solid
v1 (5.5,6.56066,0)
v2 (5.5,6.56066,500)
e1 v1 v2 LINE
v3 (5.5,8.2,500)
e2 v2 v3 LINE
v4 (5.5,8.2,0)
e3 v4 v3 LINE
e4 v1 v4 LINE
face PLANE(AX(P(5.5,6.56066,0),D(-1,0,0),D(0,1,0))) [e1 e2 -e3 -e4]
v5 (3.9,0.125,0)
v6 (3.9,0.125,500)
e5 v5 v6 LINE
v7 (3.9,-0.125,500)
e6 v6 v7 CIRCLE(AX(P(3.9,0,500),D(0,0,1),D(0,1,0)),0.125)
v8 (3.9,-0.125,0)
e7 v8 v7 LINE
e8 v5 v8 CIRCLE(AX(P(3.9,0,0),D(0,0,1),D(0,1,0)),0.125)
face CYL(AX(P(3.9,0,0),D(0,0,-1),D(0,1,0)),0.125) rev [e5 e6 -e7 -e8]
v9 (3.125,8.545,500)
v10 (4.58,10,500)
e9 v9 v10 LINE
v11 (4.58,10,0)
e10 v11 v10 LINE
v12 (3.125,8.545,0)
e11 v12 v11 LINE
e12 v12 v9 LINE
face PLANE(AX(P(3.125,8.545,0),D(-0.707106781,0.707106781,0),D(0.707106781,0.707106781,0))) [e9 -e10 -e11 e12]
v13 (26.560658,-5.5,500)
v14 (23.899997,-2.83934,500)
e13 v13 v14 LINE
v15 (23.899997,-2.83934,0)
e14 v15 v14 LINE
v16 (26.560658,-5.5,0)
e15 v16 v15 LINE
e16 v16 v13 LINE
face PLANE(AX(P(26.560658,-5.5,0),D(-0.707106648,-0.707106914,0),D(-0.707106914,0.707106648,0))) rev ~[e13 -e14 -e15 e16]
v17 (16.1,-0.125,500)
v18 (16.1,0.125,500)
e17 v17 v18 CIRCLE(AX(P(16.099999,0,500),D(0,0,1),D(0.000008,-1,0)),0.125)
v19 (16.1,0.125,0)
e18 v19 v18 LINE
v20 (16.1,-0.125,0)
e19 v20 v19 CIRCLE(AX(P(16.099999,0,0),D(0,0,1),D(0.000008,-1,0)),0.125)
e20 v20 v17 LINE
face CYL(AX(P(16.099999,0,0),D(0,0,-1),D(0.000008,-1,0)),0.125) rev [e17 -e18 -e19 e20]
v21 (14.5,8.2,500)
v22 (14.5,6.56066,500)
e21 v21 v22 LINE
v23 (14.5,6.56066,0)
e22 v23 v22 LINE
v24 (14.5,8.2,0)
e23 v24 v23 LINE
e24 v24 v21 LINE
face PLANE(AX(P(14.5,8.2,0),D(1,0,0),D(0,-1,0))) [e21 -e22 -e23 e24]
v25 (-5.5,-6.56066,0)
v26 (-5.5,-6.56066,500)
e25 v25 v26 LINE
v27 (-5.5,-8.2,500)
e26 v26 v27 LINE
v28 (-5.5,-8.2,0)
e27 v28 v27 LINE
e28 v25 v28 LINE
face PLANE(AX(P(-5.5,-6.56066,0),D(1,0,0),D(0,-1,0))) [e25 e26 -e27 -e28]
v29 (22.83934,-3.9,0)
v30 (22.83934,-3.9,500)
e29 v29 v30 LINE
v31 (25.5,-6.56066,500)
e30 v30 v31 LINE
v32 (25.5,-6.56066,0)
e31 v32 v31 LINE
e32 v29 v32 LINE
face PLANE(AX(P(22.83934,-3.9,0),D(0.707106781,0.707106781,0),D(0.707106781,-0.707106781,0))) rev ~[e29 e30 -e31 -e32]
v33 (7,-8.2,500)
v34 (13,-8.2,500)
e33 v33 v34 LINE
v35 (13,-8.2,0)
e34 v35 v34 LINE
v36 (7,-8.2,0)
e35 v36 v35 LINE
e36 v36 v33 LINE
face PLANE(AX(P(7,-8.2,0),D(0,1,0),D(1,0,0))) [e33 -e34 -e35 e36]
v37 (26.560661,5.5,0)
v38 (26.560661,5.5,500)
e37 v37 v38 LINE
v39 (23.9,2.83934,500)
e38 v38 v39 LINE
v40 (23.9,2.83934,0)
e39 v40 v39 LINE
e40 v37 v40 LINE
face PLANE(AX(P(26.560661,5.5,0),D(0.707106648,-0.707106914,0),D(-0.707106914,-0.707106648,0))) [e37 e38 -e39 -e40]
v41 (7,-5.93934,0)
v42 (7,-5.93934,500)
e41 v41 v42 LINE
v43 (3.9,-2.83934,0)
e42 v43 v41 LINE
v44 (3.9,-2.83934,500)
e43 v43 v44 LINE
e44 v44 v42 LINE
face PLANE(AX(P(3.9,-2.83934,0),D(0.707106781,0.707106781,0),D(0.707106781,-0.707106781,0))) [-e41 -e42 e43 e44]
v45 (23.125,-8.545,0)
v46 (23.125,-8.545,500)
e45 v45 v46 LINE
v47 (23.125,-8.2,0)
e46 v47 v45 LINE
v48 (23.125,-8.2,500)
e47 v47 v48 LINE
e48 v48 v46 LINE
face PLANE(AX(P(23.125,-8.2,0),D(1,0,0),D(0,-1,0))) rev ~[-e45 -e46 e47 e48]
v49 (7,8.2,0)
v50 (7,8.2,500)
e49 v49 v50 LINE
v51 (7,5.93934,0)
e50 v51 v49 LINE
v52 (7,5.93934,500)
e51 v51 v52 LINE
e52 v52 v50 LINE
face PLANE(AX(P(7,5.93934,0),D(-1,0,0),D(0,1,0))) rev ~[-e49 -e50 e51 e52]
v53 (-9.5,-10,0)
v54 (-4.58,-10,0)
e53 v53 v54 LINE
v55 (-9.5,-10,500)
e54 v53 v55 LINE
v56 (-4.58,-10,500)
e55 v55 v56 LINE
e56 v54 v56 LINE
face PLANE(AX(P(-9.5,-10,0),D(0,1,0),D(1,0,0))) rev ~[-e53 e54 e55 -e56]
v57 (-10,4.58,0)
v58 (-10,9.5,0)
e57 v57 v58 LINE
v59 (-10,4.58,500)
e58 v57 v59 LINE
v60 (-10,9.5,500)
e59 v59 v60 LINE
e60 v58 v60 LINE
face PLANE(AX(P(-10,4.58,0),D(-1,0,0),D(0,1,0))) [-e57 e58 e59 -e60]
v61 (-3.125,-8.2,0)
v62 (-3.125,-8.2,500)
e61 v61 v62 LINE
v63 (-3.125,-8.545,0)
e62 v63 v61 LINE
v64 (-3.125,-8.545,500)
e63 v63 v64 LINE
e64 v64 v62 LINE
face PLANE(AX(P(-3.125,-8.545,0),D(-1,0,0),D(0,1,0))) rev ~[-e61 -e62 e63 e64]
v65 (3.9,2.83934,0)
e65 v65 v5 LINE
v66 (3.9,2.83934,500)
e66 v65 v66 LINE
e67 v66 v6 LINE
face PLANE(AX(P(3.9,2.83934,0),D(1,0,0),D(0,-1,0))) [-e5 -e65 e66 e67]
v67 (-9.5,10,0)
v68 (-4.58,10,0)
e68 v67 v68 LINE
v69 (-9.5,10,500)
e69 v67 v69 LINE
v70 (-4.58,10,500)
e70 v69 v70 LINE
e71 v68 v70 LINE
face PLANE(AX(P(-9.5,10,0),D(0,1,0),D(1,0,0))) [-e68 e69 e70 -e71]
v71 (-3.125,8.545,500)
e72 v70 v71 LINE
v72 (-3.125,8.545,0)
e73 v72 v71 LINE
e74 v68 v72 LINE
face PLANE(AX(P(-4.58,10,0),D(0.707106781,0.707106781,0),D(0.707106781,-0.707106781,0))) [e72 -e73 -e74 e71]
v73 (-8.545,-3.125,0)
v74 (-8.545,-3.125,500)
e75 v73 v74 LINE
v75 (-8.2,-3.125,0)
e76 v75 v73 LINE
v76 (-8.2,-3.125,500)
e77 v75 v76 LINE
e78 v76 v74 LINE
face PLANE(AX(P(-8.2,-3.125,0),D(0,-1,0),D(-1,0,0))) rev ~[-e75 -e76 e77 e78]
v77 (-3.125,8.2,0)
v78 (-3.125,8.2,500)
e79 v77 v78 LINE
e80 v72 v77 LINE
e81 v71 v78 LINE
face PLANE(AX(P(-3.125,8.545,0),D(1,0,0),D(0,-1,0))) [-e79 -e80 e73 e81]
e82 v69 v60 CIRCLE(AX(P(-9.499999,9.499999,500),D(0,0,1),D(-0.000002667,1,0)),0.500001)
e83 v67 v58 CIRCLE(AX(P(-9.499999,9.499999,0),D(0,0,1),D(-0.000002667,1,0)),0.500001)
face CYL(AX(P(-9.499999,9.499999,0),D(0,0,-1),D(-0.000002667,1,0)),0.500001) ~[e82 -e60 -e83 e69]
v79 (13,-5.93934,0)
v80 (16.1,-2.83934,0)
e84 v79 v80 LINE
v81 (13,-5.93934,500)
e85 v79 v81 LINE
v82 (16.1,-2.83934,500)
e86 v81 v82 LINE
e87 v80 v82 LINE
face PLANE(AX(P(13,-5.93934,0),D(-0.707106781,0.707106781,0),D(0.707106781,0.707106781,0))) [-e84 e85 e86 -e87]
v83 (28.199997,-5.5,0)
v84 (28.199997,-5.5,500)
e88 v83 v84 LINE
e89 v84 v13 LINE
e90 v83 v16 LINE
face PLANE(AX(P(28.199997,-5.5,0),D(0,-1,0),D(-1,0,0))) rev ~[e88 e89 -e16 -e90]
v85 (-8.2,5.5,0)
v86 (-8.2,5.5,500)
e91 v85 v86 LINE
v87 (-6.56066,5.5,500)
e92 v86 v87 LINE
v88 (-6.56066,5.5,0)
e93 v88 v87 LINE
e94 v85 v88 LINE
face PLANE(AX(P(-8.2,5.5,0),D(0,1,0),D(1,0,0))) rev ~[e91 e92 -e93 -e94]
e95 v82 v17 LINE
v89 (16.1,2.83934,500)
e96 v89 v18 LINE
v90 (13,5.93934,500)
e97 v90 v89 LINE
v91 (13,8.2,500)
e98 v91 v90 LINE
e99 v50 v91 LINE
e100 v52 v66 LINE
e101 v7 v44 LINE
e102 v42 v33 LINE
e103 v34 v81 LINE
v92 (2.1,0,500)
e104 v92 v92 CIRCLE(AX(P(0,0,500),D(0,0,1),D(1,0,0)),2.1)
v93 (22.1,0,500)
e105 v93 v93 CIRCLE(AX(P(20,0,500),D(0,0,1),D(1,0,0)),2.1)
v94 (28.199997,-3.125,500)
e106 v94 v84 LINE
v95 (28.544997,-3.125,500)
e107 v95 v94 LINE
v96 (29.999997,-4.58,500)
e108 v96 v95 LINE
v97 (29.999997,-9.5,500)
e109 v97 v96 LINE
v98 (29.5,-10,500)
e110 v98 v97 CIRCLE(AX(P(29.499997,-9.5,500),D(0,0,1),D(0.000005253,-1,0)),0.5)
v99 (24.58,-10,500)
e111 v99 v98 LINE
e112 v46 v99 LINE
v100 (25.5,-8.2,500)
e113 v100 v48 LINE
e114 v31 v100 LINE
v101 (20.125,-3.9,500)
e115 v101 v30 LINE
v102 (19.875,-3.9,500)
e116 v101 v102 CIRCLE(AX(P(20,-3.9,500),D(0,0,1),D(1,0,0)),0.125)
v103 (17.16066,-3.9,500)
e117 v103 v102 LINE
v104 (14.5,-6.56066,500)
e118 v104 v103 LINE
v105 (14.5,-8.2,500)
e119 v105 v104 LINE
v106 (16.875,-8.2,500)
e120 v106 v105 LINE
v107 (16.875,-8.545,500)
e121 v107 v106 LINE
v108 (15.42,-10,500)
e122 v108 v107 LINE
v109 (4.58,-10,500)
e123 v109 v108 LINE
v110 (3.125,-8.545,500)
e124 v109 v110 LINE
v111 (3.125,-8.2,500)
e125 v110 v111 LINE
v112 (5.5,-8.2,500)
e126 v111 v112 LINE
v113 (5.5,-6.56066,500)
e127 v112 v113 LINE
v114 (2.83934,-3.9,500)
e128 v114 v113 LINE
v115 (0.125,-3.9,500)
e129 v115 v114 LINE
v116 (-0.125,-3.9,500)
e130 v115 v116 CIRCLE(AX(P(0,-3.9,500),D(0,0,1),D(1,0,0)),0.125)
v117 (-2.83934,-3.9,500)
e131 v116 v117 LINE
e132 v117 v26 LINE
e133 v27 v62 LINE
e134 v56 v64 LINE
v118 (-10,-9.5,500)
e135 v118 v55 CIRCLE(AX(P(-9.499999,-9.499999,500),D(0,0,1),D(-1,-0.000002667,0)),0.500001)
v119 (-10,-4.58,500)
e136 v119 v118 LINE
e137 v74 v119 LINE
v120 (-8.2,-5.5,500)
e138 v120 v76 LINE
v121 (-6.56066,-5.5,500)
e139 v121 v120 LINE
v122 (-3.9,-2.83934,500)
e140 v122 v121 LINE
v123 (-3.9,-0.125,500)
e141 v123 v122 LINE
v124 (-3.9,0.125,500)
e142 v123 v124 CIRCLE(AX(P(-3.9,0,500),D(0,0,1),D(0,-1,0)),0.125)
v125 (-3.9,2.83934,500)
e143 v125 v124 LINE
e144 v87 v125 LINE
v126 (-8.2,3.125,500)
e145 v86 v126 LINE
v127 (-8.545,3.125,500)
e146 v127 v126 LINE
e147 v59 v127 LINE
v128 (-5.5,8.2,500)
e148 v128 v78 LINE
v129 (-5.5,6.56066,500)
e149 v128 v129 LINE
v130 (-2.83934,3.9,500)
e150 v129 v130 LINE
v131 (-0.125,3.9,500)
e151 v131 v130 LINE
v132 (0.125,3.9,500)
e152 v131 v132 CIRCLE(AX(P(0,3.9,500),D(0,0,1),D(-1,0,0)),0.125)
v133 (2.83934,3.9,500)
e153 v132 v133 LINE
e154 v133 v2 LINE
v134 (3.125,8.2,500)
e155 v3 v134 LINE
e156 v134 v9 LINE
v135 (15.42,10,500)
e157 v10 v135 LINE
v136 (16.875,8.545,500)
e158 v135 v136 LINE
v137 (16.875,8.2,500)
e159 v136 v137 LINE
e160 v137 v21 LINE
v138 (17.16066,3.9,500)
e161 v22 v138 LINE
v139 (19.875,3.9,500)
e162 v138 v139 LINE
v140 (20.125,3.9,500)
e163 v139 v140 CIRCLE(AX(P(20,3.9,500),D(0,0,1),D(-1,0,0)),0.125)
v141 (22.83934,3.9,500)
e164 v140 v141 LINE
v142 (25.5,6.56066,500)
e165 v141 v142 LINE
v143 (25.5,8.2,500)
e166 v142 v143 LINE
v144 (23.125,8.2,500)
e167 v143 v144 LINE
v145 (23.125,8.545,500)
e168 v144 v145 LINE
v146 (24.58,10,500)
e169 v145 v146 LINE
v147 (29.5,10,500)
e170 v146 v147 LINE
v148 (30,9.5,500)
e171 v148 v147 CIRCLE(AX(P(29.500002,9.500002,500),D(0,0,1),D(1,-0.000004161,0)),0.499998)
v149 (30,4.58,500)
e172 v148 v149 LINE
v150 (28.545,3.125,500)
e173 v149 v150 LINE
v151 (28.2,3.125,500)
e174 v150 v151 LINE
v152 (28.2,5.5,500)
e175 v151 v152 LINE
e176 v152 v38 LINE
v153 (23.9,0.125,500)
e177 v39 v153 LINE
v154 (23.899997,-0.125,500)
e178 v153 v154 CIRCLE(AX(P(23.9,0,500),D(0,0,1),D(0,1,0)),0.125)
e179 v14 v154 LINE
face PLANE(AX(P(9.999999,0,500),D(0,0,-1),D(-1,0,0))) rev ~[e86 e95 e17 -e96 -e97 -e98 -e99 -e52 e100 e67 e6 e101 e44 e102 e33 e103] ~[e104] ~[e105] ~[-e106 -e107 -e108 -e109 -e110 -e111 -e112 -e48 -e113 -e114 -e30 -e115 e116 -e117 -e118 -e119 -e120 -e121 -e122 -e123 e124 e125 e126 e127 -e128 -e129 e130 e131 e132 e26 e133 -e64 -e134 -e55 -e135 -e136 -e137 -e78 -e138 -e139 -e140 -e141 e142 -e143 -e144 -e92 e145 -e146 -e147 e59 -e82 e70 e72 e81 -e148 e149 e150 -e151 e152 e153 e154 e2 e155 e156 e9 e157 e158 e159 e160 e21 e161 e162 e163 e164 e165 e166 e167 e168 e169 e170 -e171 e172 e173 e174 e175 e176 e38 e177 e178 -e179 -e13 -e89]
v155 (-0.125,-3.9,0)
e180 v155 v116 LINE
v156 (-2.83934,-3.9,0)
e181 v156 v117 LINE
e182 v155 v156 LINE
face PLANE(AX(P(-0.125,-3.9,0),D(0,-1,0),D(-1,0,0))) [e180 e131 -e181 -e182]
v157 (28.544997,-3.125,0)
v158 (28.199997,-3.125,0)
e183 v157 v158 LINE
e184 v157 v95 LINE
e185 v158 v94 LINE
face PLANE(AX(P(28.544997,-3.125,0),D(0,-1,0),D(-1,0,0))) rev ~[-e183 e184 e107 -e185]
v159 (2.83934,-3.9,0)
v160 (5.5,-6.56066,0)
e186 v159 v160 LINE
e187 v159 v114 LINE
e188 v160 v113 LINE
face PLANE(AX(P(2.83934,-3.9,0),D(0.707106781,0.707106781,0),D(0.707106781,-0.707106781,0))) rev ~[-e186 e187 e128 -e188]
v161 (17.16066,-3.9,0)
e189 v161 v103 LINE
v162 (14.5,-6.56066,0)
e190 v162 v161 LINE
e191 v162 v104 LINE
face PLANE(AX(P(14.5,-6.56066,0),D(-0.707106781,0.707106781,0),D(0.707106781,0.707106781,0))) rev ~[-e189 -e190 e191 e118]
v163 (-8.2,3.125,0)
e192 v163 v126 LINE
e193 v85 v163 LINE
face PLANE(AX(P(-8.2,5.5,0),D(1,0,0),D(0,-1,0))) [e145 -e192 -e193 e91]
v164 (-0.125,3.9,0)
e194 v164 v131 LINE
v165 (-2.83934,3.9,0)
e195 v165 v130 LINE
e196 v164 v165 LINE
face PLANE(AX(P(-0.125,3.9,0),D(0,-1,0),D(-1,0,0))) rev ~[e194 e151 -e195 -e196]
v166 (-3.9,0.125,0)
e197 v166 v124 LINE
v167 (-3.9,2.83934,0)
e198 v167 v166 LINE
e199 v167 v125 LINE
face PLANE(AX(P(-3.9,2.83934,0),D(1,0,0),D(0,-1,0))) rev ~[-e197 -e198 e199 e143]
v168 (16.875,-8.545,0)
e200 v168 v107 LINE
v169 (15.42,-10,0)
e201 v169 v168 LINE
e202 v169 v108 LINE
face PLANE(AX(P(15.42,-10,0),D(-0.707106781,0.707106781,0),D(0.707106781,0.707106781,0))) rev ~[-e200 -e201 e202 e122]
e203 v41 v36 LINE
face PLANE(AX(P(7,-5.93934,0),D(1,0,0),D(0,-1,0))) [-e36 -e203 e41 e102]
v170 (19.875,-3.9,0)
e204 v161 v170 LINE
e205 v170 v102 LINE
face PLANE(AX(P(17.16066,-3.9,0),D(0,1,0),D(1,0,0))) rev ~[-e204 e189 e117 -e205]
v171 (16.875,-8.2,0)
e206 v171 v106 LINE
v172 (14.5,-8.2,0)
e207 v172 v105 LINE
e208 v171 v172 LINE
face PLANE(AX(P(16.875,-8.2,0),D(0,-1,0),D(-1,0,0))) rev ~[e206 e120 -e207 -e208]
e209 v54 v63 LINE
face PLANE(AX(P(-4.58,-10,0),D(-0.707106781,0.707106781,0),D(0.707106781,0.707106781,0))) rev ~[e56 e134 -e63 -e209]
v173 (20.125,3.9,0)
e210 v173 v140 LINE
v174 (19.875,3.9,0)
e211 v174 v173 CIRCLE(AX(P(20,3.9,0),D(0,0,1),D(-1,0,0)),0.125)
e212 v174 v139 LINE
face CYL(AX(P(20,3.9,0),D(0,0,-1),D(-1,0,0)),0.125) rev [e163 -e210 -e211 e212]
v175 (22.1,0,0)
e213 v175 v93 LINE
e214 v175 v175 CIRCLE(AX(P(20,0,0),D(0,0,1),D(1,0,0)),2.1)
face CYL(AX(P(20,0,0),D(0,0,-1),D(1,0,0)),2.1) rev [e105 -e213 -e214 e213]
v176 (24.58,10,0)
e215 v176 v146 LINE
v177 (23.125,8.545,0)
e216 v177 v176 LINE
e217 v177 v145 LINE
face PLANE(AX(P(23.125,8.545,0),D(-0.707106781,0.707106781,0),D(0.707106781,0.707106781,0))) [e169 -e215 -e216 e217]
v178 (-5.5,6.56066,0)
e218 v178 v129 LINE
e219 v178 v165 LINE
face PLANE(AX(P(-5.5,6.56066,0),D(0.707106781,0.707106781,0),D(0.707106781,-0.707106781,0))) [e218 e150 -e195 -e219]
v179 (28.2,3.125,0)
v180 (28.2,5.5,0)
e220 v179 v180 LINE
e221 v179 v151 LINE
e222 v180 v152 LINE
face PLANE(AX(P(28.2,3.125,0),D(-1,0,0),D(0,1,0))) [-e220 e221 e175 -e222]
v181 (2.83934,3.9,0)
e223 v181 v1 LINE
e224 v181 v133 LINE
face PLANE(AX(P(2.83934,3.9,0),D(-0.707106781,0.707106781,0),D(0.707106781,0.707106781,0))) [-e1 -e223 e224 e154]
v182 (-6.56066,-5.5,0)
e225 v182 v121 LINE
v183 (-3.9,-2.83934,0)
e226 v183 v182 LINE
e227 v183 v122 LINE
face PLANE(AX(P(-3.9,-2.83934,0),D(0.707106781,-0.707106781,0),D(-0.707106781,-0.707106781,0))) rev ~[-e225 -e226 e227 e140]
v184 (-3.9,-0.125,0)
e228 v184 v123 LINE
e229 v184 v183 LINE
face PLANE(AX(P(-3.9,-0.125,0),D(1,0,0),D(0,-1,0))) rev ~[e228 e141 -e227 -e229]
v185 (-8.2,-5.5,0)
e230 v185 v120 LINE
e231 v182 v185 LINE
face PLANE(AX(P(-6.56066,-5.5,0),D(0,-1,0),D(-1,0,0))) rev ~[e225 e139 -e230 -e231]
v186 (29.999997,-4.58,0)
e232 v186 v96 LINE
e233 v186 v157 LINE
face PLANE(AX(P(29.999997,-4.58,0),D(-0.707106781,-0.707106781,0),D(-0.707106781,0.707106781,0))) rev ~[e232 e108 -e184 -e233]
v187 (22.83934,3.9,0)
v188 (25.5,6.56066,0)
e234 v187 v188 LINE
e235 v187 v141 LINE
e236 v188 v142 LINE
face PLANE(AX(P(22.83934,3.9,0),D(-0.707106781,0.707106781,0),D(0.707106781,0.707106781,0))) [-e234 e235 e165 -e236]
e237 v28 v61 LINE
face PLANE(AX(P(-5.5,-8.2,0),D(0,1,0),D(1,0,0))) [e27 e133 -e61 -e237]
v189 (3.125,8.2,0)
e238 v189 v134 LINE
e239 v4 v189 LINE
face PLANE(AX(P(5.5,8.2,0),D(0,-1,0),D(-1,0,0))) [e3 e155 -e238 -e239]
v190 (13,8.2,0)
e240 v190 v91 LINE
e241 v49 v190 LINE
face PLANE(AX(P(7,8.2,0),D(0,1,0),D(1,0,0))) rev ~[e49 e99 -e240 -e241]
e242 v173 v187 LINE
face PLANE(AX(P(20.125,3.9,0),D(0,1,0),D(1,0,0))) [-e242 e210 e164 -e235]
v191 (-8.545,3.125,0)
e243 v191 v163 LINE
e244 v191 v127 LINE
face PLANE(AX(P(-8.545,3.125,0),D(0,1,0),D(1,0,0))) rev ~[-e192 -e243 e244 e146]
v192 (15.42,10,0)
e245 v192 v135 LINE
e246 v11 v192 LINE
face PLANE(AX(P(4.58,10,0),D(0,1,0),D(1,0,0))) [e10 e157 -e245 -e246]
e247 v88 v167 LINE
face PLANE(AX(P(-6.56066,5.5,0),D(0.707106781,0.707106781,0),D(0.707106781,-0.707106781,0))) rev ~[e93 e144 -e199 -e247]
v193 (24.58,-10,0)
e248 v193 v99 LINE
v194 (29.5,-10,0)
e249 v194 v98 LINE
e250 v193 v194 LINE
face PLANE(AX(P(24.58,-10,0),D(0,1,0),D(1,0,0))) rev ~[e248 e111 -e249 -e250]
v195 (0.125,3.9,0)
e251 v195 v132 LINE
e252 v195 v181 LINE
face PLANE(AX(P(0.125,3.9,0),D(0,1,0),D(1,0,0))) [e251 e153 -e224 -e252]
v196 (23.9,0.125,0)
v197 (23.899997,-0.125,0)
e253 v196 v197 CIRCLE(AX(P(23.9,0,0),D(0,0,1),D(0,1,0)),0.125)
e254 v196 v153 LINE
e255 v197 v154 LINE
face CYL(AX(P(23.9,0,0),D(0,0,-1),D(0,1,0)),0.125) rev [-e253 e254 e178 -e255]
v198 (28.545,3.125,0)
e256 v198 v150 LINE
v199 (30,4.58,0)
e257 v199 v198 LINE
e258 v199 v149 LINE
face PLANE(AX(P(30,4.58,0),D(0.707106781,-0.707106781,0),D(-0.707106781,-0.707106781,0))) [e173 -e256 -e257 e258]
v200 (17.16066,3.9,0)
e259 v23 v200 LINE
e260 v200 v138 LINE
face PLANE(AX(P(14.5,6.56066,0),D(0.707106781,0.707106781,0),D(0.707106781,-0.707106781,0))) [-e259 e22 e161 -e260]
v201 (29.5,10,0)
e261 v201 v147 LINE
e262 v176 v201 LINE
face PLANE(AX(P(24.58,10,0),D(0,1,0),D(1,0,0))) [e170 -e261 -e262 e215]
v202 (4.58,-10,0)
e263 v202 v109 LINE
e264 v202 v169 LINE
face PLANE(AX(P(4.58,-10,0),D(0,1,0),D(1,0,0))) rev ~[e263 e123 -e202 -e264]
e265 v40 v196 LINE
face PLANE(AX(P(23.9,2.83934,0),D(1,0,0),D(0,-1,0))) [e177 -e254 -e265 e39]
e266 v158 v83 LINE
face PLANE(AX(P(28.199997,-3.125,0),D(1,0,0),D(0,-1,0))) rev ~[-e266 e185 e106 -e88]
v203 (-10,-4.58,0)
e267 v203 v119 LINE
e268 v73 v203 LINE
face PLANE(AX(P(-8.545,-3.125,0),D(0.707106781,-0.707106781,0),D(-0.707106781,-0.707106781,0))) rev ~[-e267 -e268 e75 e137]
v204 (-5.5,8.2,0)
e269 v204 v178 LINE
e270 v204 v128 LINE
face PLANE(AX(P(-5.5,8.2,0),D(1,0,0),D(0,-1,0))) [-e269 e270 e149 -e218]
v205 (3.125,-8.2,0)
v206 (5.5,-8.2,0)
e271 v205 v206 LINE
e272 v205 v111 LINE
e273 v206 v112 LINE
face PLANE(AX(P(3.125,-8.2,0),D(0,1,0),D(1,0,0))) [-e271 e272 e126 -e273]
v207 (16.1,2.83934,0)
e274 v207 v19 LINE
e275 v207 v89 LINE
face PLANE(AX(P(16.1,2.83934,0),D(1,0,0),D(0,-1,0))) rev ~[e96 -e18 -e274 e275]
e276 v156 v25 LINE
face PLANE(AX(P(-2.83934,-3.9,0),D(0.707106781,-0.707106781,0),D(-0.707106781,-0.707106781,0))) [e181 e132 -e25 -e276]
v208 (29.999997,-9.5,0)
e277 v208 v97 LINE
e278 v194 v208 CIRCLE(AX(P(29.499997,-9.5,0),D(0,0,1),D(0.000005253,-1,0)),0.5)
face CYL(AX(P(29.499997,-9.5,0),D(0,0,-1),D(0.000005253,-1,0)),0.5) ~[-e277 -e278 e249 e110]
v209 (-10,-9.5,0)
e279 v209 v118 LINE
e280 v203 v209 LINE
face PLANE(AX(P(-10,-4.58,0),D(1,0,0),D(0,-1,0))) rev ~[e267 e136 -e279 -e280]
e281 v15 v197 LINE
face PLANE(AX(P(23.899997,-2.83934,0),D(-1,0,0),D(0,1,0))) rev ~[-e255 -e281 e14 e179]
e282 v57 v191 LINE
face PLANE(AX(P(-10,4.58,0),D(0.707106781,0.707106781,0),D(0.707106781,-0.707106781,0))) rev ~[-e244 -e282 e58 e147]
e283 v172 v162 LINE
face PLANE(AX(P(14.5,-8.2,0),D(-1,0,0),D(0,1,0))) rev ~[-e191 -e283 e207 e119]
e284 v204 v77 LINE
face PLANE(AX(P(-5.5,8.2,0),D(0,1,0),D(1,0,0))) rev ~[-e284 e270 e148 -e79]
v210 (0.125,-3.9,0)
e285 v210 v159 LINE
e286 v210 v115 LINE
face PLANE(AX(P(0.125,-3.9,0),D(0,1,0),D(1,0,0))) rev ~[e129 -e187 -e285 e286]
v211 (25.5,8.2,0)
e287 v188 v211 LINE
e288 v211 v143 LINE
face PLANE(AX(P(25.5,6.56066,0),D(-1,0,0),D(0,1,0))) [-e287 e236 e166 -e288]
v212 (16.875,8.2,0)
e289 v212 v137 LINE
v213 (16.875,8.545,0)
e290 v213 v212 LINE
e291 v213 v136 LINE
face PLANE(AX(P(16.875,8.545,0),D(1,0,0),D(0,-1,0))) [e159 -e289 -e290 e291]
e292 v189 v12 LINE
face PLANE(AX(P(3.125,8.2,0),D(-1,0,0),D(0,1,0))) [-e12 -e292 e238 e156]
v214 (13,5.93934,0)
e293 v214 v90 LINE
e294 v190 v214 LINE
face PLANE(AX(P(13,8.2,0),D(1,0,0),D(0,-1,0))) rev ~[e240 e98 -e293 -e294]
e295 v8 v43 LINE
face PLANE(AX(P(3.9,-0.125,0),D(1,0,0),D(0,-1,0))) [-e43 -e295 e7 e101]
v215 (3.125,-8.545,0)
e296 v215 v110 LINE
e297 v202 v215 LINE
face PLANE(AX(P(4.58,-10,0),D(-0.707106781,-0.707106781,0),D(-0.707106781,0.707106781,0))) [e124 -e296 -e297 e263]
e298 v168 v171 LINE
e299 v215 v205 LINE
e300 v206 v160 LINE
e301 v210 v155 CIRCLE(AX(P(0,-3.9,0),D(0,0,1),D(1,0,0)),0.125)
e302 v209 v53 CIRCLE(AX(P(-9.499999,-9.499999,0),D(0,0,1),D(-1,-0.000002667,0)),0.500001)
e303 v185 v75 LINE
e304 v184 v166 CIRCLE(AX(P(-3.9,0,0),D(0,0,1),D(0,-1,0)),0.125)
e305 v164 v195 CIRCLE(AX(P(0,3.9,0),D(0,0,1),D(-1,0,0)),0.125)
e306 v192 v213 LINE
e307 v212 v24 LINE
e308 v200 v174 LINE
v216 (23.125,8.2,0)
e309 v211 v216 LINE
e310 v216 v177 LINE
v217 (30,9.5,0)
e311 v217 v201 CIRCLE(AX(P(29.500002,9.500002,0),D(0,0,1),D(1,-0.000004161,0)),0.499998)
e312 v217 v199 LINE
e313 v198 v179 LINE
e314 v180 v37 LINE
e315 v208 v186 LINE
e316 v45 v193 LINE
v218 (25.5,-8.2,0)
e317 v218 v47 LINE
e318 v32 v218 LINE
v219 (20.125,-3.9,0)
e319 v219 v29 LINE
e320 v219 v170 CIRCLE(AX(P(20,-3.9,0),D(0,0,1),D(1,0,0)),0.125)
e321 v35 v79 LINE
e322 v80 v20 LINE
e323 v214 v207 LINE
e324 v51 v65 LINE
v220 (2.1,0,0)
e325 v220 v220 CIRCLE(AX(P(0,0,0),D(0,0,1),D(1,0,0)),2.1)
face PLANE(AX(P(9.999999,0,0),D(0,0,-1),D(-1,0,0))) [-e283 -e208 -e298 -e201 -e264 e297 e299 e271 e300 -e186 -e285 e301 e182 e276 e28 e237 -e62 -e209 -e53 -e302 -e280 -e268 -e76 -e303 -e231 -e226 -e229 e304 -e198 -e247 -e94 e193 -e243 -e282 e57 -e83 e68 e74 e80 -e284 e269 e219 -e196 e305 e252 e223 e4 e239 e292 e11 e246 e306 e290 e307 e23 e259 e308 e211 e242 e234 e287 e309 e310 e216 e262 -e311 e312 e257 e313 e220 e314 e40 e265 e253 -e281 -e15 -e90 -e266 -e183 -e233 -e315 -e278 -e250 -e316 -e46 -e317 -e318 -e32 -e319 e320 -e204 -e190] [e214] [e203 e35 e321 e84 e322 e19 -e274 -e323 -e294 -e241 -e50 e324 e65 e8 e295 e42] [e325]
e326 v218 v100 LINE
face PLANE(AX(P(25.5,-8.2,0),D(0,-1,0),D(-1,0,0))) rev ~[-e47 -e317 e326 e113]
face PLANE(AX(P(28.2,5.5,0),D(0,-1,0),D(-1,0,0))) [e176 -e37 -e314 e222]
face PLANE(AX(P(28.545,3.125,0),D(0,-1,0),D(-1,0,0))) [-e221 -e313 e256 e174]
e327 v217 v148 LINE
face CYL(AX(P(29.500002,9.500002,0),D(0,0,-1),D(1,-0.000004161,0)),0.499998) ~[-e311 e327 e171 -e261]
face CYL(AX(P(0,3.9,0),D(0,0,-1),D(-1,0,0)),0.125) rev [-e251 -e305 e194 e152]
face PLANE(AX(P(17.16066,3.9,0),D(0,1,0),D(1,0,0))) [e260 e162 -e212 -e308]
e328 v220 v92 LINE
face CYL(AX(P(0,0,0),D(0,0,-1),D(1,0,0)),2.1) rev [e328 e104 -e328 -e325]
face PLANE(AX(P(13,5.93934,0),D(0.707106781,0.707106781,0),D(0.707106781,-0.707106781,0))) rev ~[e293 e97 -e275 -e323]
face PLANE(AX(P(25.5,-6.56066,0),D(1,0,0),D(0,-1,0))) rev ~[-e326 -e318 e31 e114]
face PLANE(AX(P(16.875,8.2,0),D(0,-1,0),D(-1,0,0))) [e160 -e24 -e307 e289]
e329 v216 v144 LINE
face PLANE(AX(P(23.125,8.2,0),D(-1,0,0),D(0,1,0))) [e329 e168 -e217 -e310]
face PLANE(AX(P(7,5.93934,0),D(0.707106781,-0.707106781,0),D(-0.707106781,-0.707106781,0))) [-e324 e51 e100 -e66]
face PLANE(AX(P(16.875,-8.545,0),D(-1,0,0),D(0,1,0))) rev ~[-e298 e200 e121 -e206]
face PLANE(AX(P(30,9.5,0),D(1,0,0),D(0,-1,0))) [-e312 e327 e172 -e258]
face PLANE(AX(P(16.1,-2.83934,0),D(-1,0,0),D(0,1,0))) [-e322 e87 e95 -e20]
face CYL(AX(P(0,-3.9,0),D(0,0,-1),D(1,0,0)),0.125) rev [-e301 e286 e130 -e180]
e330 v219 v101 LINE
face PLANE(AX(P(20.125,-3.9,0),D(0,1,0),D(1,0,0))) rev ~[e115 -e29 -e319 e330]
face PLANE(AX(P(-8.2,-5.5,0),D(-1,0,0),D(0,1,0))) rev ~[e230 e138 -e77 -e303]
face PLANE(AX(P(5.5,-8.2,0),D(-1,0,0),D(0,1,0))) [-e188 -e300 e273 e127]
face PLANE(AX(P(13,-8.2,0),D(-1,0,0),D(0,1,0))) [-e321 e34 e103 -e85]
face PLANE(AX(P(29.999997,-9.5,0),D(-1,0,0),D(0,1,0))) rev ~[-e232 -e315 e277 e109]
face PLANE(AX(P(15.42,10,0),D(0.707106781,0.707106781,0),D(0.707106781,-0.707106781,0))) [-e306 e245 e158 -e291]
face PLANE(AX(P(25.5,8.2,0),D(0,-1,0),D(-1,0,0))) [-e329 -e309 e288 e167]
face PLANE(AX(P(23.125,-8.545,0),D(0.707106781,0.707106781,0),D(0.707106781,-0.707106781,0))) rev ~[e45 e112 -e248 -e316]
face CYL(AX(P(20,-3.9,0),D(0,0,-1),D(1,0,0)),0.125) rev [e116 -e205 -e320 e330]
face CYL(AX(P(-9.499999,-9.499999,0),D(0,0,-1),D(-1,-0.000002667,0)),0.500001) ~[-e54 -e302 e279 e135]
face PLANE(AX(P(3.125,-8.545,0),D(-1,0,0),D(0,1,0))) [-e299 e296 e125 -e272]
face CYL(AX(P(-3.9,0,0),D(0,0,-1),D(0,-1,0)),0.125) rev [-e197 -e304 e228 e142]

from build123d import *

# Parameters (mm, degrees)
SKETCH_R  = 2.1
PAD_DEPTH = 500


with BuildPart() as part:
    # Sketch → Pad (new body)
    with BuildSketch(Plane.XY):
        with BuildLine():
            Line((-10, 4.58), (-10, 9.5))
            ThreePointArc((-9.5, 10), (-9.853553, 9.853553), (-10, 9.5))
            Line((-9.5, 10), (-4.58, 10))
            Line((-4.58, 10), (-3.125, 8.545))
            Line((-3.125, 8.545), (-3.125, 8.2))
            Line((-5.5, 8.2), (-3.125, 8.2))
            Line((-5.5, 8.2), (-5.5, 6.56066))
            Line((-5.5, 6.56066), (-2.83934, 3.9))
            Line((-0.125, 3.9), (-2.83934, 3.9))
            ThreePointArc((-0.125, 3.9), (0, 3.775), (0.125, 3.9))
            Line((0.125, 3.9), (2.83934, 3.9))
            Line((2.83934, 3.9), (5.5, 6.56066))
            Line((5.5, 6.56066), (5.5, 8.2))
            Line((5.5, 8.2), (3.125, 8.2))
            Line((3.125, 8.2), (3.125, 8.545))
            Line((3.125, 8.545), (4.58, 10))
            Line((4.58, 10), (15.42, 10))
            Line((15.42, 10), (16.875, 8.545))
            Line((16.875, 8.545), (16.875, 8.2))
            Line((16.875, 8.2), (14.5, 8.2))
            Line((14.5, 8.2), (14.5, 6.56066))
            Line((14.5, 6.56066), (17.16066, 3.9))
            Line((17.16066, 3.9), (19.875, 3.9))
            ThreePointArc((19.875, 3.9), (20, 3.775), (20.125, 3.9))
            Line((20.125, 3.9), (22.83934, 3.9))
            Line((22.83934, 3.9), (25.5, 6.56066))
            Line((25.5, 6.56066), (25.5, 8.2))
            Line((25.5, 8.2), (23.125, 8.2))
            Line((23.125, 8.2), (23.125, 8.545))
            Line((23.125, 8.545), (24.58, 10))
            Line((24.58, 10), (29.5, 10))
            ThreePointArc((30, 9.5), (29.853554, 9.853554), (29.5, 10))
            Line((30, 9.5), (30, 4.58))
            Line((30, 4.58), (28.545, 3.125))
            Line((28.545, 3.125), (28.2, 3.125))
            Line((28.2, 3.125), (28.2, 5.5))
            Line((28.2, 5.5), (26.560661, 5.5))
            Line((26.560661, 5.5), (23.9, 2.83934))
            Line((23.9, 2.83934), (23.9, 0.125))
            ThreePointArc((23.9, 0.125), (23.775, 2e-06), (23.899997, -0.125))
            Line((23.899997, -2.83934), (23.899997, -0.125))
            Line((26.560658, -5.5), (23.899997, -2.83934))
            Line((28.199997, -5.5), (26.560658, -5.5))
            Line((28.199997, -3.125), (28.199997, -5.5))
            Line((28.544997, -3.125), (28.199997, -3.125))
            Line((29.999997, -4.58), (28.544997, -3.125))
            Line((29.999997, -9.5), (29.999997, -4.58))
            ThreePointArc((29.5, -10), (29.853552, -9.853552), (29.999997, -9.5))
            Line((24.58, -10), (29.5, -10))
            Line((23.125, -8.545), (24.58, -10))
            Line((23.125, -8.2), (23.125, -8.545))
            Line((25.5, -8.2), (23.125, -8.2))
            Line((25.5, -6.56066), (25.5, -8.2))
            Line((22.83934, -3.9), (25.5, -6.56066))
            Line((20.125, -3.9), (22.83934, -3.9))
            ThreePointArc((20.125, -3.9), (20, -3.775), (19.875, -3.9))
            Line((17.16066, -3.9), (19.875, -3.9))
            Line((14.5, -6.56066), (17.16066, -3.9))
            Line((14.5, -8.2), (14.5, -6.56066))
            Line((16.875, -8.2), (14.5, -8.2))
            Line((16.875, -8.545), (16.875, -8.2))
            Line((15.42, -10), (16.875, -8.545))
            Line((4.58, -10), (15.42, -10))
            Line((4.58, -10), (3.125, -8.545))
            Line((3.125, -8.545), (3.125, -8.2))
            Line((3.125, -8.2), (5.5, -8.2))
            Line((5.5, -8.2), (5.5, -6.56066))
            Line((2.83934, -3.9), (5.5, -6.56066))
            Line((0.125, -3.9), (2.83934, -3.9))
            ThreePointArc((0.125, -3.9), (0, -3.775), (-0.125, -3.9))
            Line((-0.125, -3.9), (-2.83934, -3.9))
            Line((-2.83934, -3.9), (-5.5, -6.56066))
            Line((-5.5, -6.56066), (-5.5, -8.2))
            Line((-5.5, -8.2), (-3.125, -8.2))
            Line((-3.125, -8.545), (-3.125, -8.2))
            Line((-4.58, -10), (-3.125, -8.545))
            Line((-9.5, -10), (-4.58, -10))
            ThreePointArc((-10, -9.5), (-9.853553, -9.853553), (-9.5, -10))
            Line((-10, -4.58), (-10, -9.5))
            Line((-8.545, -3.125), (-10, -4.58))
            Line((-8.2, -3.125), (-8.545, -3.125))
            Line((-8.2, -5.5), (-8.2, -3.125))
            Line((-6.56066, -5.5), (-8.2, -5.5))
            Line((-3.9, -2.83934), (-6.56066, -5.5))
            Line((-3.9, -0.125), (-3.9, -2.83934))
            ThreePointArc((-3.9, -0.125), (-3.775, 0), (-3.9, 0.125))
            Line((-3.9, 2.83934), (-3.9, 0.125))
            Line((-6.56066, 5.5), (-3.9, 2.83934))
            Line((-8.2, 5.5), (-6.56066, 5.5))
            Line((-8.2, 5.5), (-8.2, 3.125))
            Line((-8.545, 3.125), (-8.2, 3.125))
            Line((-10, 4.58), (-8.545, 3.125))
        make_face()
        Circle(SKETCH_R, mode=Mode.SUBTRACT)
        with Locations((20, 0)):
            Circle(SKETCH_R, mode=Mode.SUBTRACT)
        with BuildLine():
            Line((7, 5.93934), (3.9, 2.83934))
            Line((3.9, 2.83934), (3.9, 0.125))
            ThreePointArc((3.9, 0.125), (3.775, 0), (3.9, -0.125))
            Line((3.9, -0.125), (3.9, -2.83934))
            Line((3.9, -2.83934), (7, -5.93934))
            Line((7, -5.93934), (7, -8.2))
            Line((7, -8.2), (13, -8.2))
            Line((13, -8.2), (13, -5.93934))
            Line((13, -5.93934), (16.1, -2.83934))
            Line((16.1, -2.83934), (16.1, -0.125))
            ThreePointArc((16.1, -0.125), (16.224999, 0), (16.1, 0.125))
            Line((16.1, 2.83934), (16.1, 0.125))
            Line((13, 5.93934), (16.1, 2.83934))
            Line((13, 8.2), (13, 5.93934))
            Line((7, 8.2), (13, 8.2))
            Line((7, 5.93934), (7, 8.2))
        make_face(mode=Mode.SUBTRACT)
    extrude(amount=PAD_DEPTH)


solid = part.part
